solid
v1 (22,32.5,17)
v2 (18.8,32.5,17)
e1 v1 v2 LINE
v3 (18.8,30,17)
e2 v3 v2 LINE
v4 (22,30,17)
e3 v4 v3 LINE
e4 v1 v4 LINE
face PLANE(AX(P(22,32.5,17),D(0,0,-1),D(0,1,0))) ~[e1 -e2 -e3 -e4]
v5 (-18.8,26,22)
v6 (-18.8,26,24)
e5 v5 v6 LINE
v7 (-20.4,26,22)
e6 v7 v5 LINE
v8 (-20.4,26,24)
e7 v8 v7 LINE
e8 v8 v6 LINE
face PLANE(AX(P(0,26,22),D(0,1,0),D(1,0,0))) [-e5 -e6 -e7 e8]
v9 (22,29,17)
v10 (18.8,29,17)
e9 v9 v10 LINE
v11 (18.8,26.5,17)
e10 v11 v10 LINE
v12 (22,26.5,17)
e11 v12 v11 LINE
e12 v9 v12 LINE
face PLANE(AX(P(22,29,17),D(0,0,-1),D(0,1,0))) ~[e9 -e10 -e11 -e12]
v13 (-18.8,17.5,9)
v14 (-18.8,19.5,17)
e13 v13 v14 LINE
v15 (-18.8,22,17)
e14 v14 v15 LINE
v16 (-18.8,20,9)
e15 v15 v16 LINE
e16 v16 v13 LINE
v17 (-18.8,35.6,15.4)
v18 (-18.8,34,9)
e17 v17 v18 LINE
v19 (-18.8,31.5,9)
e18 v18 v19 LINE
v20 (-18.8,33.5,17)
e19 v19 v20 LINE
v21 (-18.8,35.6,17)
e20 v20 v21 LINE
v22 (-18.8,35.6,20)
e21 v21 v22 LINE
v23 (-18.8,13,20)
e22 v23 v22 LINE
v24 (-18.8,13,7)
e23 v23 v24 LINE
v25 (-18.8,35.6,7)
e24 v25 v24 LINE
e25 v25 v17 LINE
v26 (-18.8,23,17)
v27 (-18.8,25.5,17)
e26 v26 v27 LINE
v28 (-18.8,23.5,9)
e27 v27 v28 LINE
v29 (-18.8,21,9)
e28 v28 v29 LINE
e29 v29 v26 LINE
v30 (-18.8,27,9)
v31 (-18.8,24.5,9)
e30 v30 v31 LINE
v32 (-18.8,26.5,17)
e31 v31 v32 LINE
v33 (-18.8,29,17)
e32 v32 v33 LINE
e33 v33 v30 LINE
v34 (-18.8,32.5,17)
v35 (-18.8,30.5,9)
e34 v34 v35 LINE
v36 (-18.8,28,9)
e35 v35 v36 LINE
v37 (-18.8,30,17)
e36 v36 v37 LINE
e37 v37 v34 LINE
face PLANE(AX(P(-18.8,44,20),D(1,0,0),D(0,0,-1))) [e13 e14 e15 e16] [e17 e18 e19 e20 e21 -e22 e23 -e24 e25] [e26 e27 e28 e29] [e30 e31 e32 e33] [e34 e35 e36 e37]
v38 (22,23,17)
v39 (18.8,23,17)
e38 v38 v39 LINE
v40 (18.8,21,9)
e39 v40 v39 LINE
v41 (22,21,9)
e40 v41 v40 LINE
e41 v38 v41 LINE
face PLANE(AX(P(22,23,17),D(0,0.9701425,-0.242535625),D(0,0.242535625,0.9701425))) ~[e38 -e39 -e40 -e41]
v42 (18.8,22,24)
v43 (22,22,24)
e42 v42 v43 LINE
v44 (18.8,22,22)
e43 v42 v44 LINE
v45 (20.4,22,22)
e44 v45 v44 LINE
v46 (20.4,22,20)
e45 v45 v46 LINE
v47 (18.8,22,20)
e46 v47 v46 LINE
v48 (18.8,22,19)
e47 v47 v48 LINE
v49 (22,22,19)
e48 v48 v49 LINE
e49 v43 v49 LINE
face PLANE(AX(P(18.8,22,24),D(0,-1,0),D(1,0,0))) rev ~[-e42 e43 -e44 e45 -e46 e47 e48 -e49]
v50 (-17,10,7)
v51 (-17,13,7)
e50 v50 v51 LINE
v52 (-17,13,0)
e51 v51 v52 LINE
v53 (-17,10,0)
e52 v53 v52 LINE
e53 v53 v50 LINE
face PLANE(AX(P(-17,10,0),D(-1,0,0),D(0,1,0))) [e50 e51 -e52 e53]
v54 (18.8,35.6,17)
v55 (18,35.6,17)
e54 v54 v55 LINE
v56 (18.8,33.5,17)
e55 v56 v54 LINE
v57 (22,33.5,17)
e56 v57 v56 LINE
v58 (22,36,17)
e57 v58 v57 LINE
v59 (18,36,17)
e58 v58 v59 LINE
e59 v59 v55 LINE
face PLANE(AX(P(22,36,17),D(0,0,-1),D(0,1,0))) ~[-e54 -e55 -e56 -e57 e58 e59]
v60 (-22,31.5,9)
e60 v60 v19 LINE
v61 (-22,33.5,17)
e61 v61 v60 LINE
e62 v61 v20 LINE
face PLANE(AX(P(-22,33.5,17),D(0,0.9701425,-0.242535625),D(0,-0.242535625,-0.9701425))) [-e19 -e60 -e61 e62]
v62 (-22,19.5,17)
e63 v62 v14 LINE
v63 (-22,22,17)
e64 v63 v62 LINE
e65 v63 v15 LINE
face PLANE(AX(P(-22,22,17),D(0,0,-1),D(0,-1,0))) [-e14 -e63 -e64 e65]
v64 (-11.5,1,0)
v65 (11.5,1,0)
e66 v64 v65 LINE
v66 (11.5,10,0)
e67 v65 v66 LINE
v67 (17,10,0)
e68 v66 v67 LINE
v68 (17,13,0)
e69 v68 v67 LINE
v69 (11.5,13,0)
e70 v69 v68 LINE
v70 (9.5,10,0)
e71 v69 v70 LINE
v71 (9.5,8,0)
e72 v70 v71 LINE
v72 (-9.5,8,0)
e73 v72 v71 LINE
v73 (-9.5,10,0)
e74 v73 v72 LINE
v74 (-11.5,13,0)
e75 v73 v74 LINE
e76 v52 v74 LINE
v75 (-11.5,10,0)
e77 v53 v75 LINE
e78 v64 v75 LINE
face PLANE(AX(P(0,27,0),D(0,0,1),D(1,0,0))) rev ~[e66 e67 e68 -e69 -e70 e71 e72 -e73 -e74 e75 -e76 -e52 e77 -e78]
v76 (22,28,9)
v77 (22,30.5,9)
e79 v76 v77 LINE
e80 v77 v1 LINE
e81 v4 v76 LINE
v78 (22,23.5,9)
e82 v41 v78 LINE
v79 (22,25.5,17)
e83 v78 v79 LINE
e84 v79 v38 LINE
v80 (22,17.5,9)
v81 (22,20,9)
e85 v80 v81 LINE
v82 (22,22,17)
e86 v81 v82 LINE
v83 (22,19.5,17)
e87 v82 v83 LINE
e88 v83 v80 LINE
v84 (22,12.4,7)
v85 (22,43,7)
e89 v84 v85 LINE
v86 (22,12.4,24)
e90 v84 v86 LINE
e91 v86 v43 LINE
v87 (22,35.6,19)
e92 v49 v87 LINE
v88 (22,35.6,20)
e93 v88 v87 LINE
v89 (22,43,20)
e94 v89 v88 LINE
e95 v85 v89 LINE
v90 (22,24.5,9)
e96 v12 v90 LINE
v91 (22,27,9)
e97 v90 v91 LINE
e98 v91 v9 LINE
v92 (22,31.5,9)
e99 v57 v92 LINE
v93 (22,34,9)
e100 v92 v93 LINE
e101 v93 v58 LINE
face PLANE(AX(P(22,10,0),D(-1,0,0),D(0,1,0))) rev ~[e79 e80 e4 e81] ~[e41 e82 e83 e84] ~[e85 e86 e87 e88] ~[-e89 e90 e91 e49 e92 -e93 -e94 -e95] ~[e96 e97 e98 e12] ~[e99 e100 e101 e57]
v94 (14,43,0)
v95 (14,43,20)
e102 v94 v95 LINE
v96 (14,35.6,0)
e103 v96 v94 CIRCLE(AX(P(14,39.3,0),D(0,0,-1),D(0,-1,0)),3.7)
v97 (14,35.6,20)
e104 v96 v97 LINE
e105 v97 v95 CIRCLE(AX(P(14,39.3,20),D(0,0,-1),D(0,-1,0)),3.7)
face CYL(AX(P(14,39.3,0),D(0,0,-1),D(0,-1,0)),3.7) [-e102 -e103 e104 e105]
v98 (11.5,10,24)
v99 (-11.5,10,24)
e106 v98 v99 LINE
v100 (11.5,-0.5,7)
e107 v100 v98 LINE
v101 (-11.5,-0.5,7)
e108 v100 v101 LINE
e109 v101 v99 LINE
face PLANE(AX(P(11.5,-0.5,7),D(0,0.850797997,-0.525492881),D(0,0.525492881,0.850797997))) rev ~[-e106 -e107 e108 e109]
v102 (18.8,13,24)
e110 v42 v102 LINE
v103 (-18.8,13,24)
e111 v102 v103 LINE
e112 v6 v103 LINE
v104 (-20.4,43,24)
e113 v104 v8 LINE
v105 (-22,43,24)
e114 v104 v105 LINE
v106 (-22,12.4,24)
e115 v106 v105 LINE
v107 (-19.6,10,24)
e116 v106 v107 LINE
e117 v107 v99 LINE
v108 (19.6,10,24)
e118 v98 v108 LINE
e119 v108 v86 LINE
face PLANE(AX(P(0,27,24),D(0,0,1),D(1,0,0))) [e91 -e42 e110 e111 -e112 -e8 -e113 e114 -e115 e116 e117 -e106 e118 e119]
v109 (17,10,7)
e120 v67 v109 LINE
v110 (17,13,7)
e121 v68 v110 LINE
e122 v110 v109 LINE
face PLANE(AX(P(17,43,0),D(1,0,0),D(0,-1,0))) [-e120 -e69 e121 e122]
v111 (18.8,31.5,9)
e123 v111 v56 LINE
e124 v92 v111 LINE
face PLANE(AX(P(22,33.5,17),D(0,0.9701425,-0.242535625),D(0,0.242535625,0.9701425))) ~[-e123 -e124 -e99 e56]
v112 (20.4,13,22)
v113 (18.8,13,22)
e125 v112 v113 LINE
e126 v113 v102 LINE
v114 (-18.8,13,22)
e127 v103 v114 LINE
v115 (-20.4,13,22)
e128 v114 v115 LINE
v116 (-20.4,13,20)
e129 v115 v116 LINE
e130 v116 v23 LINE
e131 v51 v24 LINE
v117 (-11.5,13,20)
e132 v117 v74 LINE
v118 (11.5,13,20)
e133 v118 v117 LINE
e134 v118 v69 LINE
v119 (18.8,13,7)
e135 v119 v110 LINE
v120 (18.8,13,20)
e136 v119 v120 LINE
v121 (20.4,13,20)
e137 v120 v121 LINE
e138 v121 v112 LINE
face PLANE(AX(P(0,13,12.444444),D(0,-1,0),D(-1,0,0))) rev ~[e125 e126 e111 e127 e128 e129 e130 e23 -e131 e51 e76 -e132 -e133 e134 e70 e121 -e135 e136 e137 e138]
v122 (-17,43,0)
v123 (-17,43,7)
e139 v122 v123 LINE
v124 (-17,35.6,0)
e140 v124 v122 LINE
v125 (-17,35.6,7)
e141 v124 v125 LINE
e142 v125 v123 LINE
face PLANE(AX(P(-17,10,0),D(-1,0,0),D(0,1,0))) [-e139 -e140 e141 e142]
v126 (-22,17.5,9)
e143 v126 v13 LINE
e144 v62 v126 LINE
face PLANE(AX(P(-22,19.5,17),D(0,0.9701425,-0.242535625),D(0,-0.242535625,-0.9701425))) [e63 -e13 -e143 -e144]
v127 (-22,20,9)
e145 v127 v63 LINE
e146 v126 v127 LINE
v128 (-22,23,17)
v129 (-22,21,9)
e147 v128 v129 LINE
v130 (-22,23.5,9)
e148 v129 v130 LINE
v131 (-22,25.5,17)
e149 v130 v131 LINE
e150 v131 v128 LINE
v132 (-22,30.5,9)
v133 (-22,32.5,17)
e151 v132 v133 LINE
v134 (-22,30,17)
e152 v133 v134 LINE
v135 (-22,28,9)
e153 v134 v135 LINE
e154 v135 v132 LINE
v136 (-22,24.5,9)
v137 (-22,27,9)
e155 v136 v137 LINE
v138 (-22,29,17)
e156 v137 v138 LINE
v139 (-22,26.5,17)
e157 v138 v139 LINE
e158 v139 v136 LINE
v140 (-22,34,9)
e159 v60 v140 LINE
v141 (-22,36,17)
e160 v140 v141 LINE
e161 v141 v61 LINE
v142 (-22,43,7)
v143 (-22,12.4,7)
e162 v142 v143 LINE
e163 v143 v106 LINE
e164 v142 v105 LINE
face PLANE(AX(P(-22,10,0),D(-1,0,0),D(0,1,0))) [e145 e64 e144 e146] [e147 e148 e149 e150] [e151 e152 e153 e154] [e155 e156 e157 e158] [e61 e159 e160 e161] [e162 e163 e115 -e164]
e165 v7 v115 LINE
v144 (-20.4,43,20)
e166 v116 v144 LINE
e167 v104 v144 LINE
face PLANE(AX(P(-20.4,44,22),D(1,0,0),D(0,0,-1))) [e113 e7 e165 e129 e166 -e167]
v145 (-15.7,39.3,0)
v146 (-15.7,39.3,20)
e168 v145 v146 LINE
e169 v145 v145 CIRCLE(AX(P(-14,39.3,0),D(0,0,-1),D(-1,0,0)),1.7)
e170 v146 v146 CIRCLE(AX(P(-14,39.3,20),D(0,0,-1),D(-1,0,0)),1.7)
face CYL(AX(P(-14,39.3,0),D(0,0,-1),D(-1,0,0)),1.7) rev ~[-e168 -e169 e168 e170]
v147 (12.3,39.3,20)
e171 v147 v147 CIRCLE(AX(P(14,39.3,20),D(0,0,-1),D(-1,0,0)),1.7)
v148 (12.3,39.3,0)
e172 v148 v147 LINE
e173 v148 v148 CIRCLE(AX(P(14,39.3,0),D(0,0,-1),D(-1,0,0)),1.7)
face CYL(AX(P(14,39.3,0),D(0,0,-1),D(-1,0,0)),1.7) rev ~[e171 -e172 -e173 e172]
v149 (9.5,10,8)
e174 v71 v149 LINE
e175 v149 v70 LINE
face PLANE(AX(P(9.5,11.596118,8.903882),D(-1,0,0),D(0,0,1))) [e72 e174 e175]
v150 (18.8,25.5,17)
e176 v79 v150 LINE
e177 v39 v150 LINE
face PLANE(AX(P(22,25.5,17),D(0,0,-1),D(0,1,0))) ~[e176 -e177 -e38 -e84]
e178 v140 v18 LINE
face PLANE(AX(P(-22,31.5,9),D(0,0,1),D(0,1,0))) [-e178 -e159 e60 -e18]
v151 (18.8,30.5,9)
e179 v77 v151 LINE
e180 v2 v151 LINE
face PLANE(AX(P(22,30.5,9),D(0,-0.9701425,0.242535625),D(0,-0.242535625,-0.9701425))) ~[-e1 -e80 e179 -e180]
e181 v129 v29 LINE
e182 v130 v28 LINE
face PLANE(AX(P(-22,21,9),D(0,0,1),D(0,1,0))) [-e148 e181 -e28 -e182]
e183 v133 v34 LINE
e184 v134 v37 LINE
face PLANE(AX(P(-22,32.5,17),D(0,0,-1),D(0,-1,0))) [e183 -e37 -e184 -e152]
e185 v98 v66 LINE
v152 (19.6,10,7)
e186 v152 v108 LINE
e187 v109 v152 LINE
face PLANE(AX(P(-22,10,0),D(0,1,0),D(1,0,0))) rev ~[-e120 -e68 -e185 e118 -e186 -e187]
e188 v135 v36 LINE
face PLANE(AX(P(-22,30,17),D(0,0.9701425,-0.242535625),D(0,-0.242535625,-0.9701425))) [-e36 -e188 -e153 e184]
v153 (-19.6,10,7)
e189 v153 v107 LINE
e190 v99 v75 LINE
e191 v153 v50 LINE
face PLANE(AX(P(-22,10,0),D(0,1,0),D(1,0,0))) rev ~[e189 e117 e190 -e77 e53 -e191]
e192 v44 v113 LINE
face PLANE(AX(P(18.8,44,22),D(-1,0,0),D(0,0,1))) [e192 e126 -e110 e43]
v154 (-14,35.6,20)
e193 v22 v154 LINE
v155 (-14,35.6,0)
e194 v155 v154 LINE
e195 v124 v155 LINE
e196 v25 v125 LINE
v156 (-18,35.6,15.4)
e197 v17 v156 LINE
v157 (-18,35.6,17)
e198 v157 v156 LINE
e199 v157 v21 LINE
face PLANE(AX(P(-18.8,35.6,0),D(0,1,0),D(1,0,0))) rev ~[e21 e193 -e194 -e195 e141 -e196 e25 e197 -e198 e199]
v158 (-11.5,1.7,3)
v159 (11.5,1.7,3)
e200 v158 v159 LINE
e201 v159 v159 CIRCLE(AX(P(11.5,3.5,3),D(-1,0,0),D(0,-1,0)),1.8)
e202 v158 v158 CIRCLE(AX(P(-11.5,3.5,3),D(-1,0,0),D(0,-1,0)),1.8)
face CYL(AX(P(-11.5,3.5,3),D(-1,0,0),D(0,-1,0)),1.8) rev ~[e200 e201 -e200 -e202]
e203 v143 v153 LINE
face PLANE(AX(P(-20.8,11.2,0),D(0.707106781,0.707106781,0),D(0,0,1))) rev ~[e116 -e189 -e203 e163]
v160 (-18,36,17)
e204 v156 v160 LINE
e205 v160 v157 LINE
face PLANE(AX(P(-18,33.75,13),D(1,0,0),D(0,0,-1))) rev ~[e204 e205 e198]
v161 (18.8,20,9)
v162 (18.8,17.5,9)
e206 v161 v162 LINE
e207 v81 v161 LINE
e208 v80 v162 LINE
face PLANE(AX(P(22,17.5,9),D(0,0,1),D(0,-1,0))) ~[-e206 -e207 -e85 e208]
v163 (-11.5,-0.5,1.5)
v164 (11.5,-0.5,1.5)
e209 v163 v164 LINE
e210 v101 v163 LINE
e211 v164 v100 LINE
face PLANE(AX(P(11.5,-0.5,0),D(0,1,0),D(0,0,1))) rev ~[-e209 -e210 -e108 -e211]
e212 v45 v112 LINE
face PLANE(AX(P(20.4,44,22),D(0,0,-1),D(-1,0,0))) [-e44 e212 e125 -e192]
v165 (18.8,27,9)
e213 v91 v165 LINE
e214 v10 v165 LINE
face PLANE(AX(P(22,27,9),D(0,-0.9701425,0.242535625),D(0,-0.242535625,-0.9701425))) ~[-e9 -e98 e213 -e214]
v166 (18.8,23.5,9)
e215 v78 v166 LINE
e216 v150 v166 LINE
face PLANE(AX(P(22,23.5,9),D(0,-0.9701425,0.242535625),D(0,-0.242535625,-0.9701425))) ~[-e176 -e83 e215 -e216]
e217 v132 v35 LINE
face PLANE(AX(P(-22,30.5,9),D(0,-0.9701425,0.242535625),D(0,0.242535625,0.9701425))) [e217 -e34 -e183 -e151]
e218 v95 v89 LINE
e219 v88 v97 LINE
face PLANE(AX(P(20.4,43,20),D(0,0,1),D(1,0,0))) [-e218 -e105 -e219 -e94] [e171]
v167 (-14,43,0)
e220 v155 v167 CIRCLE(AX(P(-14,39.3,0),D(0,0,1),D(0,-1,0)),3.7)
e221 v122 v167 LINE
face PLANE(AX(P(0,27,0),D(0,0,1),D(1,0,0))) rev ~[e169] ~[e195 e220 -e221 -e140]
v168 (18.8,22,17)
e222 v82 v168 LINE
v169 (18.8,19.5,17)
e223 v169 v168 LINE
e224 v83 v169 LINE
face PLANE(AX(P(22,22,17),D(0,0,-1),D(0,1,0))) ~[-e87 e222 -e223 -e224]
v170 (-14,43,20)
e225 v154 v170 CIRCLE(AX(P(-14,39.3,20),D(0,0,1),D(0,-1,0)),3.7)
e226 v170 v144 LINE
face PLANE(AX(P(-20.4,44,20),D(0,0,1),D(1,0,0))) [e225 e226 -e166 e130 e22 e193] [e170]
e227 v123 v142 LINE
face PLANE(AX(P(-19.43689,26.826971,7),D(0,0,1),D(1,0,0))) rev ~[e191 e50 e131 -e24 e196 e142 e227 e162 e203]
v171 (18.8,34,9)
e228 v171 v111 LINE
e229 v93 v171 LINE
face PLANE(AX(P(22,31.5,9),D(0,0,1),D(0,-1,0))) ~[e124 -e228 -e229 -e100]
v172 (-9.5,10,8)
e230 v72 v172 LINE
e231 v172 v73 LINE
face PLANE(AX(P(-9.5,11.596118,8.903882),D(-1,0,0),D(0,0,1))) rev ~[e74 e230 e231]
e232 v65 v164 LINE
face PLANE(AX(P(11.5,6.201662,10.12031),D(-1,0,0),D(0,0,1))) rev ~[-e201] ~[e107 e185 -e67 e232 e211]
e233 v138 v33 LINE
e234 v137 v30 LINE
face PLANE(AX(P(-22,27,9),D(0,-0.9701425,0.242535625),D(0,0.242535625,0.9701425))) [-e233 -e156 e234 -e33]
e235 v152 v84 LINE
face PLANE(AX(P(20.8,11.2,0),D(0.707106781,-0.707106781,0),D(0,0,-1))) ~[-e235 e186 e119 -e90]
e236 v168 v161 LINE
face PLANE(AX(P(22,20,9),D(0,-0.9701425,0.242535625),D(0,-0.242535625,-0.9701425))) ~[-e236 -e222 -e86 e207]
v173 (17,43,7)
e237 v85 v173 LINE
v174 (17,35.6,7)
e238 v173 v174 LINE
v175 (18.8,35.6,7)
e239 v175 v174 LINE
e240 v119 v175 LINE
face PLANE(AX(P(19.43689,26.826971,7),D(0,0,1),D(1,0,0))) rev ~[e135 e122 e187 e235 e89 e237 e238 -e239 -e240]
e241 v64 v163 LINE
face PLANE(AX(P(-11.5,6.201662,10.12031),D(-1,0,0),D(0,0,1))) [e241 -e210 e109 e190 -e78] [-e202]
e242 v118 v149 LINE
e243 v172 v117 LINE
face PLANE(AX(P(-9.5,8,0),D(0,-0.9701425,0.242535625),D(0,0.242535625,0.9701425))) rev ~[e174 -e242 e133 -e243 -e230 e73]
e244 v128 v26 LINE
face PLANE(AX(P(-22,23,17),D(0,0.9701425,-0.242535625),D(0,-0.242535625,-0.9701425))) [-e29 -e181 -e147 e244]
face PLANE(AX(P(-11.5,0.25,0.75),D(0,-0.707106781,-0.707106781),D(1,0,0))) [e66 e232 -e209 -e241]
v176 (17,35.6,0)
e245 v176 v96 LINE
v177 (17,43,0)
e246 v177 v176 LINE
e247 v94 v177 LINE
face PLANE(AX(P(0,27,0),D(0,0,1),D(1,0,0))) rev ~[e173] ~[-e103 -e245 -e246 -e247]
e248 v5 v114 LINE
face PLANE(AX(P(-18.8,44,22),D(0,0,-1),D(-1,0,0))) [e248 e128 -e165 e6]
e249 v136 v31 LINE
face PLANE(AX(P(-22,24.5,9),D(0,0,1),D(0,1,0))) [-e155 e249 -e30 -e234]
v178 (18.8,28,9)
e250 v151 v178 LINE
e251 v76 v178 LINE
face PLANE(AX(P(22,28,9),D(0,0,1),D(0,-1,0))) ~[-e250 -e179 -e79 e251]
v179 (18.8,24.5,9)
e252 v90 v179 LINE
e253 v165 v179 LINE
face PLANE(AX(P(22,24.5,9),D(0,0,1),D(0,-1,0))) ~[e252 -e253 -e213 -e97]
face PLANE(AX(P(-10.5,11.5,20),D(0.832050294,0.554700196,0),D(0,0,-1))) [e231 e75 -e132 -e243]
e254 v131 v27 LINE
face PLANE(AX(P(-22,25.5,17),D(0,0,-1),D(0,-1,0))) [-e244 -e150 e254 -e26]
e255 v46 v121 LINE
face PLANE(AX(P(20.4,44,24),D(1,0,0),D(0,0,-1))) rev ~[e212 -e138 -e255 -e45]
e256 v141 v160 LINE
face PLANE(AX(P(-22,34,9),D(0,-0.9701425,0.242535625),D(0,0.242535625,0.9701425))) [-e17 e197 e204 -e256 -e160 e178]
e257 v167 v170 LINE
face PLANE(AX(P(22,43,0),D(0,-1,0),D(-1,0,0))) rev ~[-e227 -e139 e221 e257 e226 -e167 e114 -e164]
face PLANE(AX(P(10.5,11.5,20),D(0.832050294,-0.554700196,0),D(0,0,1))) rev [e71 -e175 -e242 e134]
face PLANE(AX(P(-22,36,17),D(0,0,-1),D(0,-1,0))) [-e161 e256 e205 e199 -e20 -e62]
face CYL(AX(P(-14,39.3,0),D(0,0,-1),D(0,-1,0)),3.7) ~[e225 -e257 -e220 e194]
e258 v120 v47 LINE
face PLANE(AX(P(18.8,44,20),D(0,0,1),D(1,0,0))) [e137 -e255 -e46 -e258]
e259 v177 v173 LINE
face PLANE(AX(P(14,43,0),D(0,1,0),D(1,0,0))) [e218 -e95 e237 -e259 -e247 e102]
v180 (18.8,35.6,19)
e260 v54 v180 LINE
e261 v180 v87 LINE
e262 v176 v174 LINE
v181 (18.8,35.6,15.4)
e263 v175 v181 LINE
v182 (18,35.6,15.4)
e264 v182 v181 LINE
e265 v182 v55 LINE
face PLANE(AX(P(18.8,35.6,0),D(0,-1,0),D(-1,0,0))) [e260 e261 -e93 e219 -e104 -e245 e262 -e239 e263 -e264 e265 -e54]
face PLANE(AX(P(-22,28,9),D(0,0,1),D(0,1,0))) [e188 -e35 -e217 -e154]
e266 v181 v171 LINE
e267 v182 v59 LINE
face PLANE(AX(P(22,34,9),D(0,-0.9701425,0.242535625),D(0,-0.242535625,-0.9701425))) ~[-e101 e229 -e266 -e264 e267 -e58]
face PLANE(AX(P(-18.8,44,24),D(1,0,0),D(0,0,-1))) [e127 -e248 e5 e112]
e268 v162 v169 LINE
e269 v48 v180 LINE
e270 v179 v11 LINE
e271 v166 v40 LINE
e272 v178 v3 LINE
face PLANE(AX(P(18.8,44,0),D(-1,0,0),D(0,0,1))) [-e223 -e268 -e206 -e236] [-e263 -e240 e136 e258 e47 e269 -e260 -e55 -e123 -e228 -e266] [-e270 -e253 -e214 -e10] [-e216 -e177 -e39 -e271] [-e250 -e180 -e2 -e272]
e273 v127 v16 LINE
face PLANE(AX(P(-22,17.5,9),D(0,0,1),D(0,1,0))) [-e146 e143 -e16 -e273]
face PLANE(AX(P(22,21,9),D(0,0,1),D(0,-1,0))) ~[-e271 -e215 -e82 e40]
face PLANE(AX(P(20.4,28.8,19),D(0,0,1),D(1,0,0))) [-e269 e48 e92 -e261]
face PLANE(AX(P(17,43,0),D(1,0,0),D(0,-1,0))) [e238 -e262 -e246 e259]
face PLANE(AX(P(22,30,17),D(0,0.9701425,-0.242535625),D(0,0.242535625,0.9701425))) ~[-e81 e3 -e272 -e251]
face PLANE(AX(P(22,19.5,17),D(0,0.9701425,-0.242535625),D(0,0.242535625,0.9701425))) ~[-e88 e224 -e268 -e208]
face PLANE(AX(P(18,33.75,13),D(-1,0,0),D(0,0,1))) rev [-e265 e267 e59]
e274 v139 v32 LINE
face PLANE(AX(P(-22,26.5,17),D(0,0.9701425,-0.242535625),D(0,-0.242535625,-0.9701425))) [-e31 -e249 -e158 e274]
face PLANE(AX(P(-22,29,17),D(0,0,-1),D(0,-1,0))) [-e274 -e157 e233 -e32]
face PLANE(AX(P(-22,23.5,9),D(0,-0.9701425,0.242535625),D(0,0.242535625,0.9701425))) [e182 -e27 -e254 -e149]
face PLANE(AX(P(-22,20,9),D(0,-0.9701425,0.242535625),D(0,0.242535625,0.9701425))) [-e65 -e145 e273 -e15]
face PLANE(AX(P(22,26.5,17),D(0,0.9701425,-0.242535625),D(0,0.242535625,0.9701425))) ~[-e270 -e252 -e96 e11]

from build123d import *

# Parameters (mm, degrees)
SKETCH_1_W           = 44
SKETCH_1_H           = 34
EXTRUDE_1_DEPTH      = 24
CUT_EXTRUDE_1_DEPTH  = 31
SKETCH_5_W           = 23
SKETCH_5_H           = 10.5
EXTRUDE_4_DEPTH      = 1
EXTRUDE_5_DEPTH      = 23
SKETCH_7_R           = 1.8
CUT_EXTRUDE_2_DEPTH  = 23
CUT_EXTRUDE_4_DEPTH  = 19
CHAMFER_2_SIZE       = 2
CHAMFER_2_SIZE2      = 3
SKETCH_11_R          = 1.7
EXTRUDE_6_DEPTH      = 20
CUT_EXTRUDE_7_DEPTH  = 4
CHAMFER_3_SIZE       = 2.4
SKETCH_14_W          = 40.8
SKETCH_14_H          = 4
CUT_EXTRUDE_8_DEPTH  = 18
SKETCH_15_W          = 44
SKETCH_15_H          = 1
CUT_EXTRUDE_9_DEPTH  = 24
SKETCH_16_W          = 3.2
SKETCH_16_H          = 13.6
CUT_EXTRUDE_10_DEPTH = 5
SKETCH_17_W          = 1.6
SKETCH_17_H          = 4
CUT_EXTRUDE_11_DEPTH = 7.4
CUT_EXTRUDE_12_DEPTH = 7
SKETCH_19_W          = 1
SKETCH_19_H          = 10.5
CUT_EXTRUDE_13_DEPTH = 23
CHAMFER_4_SIZE       = 1.5
CHAMFER_5_SIZE       = 3
CHAMFER_5_SIZE2      = 2


with BuildPart() as part:
    # Эскиз1 → Бобышка-Вытянуть1 (new body)
    with BuildSketch(Plane.XY):
        with Locations((0, 27)):
            Rectangle(SKETCH_1_W, SKETCH_1_H)
    extrude(amount=EXTRUDE_1_DEPTH)

    # Эскиз2 → Вырез-Вытянуть1 (cut)
    with BuildSketch(Plane(origin=(0, 44, 0), x_dir=(1, 0, 0), z_dir=(0, 1, 0))):
        Polygon((-18.8, 0), (18.8, 0), (18.8, -20), (20.4, -20), (20.4, -22), (18.8, -22), (18.8, -24), (-18.8, -24), (-18.8, -22), (-20.4, -22), (-20.4, -20), (-18.8, -20), align=None)
    extrude(amount=-CUT_EXTRUDE_1_DEPTH, mode=Mode.SUBTRACT)



with BuildPart() as body_2:
    # Эскиз5 → Бобышка-Вытянуть4 (new body)
    with BuildSketch(Plane(origin=(0, 0, 0), x_dir=(-1, 0, 0), z_dir=(0, 0, -1))):
        with Locations((0, 4.75)):
            Rectangle(SKETCH_5_W, SKETCH_5_H)
    extrude(amount=EXTRUDE_4_DEPTH)


with BuildPart() as part_1:
    add(part.part)

    add(body_2.part)  # Бобышка-Вытянуть5 merges body 2
    # Эскиз6 → Бобышка-Вытянуть5 (add)
    with BuildSketch(Plane(origin=(11.5, 0, 0), x_dir=(0, 0, -1), z_dir=(1, 0, 0))):
        Polygon((0, -0.5), (-7, -0.5), (-24, 10), (0, 10), align=None)
    extrude(amount=-EXTRUDE_5_DEPTH)

    # Эскиз7 → Вырез-Вытянуть2 (cut)
    with BuildSketch(Plane.ZY.offset(11.5)):
        with Locations(Location((3, 3.5, 0), (0, 0, 270))):
            Circle(SKETCH_7_R)
    extrude(amount=-CUT_EXTRUDE_2_DEPTH, mode=Mode.SUBTRACT)

    # Эскиз8 → Вырез-Вытянуть4 (cut)
    with BuildSketch(Plane.ZY.offset(9.5)):
        Polygon((0, 8), (20, 13), (0, 13), align=None)
    extrude(amount=-CUT_EXTRUDE_4_DEPTH, mode=Mode.SUBTRACT)

    # Фаска2
    chamfer_2_edges = [part_1.edges().sort_by_distance(p)[0] for p in [
        (9.5, 13, 10),
    ]]
    chamfer_2_side = [part_1.faces().sort_by_distance(p)[0] for p in [
        (-18.32664601, 13, 10),
    ]]
    chamfer(chamfer_2_edges, length=CHAMFER_2_SIZE, length2=CHAMFER_2_SIZE2, reference=chamfer_2_side[0])

    # Эскиз11 → Бобышка-Вытянуть6 (add)
    # profile 1 of 2: a face of its own
    with BuildSketch(Plane(origin=(0, 0, 0), x_dir=(-1, 0, 0), z_dir=(0, 0, -1))):
        with BuildLine():
            Line((-14, 43), (-18.8, 43))
            Line((-18.8, 43), (-18.8, 35.6))
            Line((-18.8, 35.6), (-14, 35.6))
            ThreePointArc((-14, 35.6), (-10.3, 39.3), (-14, 43))
        make_face()
        with Locations((-14, 39.3)):
            Circle(SKETCH_11_R, mode=Mode.SUBTRACT)
    # profile 2 of 2: a face of its own
    with BuildSketch(Plane(origin=(0, 0, 0), x_dir=(-1, 0, 0), z_dir=(0, 0, -1))):
        with BuildLine():
            Line((18.8, 35.6), (14, 35.6))
            ThreePointArc((14, 35.6), (10.3, 39.3), (14, 43))
            Line((14, 43), (18.8, 43))
            Line((18.8, 43), (18.8, 35.6))
        make_face()
        with Locations((14, 39.3)):
            Circle(SKETCH_11_R, mode=Mode.SUBTRACT)
    extrude(amount=-EXTRUDE_6_DEPTH)

    # Эскиз13 → Вырез-Вытянуть7 (cut)
    with BuildSketch(Plane.ZY.offset(22)):
        Polygon((9, 34), (17, 36), (17, 33.5), (9, 31.5), align=None)
        Polygon((9, 30.5), (17, 32.5), (17, 30), (9, 28), align=None)
        Polygon((9, 27), (17, 29), (17, 26.5), (9, 24.5), align=None)
        Polygon((9, 23.5), (17, 25.5), (17, 23), (9, 21), align=None)
        Polygon((9, 20), (17, 22), (17, 19.5), (9, 17.5), align=None)
    cut_extrude_7 = extrude(amount=-CUT_EXTRUDE_7_DEPTH, mode=Mode.SUBTRACT)

    # Зеркальное отражение1: Вырез-Вытянуть7 across plane
    add(cut_extrude_7.mirror(Plane(origin=(0, 0, 0), x_dir=(0, 0, 1), z_dir=(1, 0, 0))), mode=Mode.SUBTRACT)

    # Фаска3
    chamfer_3_edges = [part_1.edges().sort_by_distance(p)[0] for p in [
        (22, 10, 12),
        (-22, 10, 12),
    ]]
    chamfer(chamfer_3_edges, length=CHAMFER_3_SIZE)

    # Эскиз14 → Вырез-Вытянуть8 (cut)
    with BuildSketch(Plane(origin=(0, 44, 0), x_dir=(1, 0, 0), z_dir=(0, 1, 0))):
        with Locations((0, -22)):
            Rectangle(SKETCH_14_W, SKETCH_14_H)
    extrude(amount=-CUT_EXTRUDE_8_DEPTH, mode=Mode.SUBTRACT)

    # Эскиз15 → Вырез-Вытянуть9 (cut)
    with BuildSketch(Plane(origin=(0, 0, 0), x_dir=(-1, 0, 0), z_dir=(0, 0, -1))):
        with Locations((0, 43.5)):
            Rectangle(SKETCH_15_W, SKETCH_15_H)
    extrude(amount=-CUT_EXTRUDE_9_DEPTH, mode=Mode.SUBTRACT)

    # Эскиз16 → Вырез-Вытянуть10 (cut)
    with BuildSketch(Plane.XY.offset(24)):
        with Locations((20.4, 28.8)):
            Rectangle(SKETCH_16_W, SKETCH_16_H)
    extrude(amount=-CUT_EXTRUDE_10_DEPTH, mode=Mode.SUBTRACT)

    # Эскиз17 → Вырез-Вытянуть11 (cut)
    with BuildSketch(Plane(origin=(0, 43, 0), x_dir=(1, 0, 0), z_dir=(0, 1, 0))):
        with Locations((21.2, -22)):
            Rectangle(SKETCH_17_W, SKETCH_17_H)
    extrude(amount=-CUT_EXTRUDE_11_DEPTH, mode=Mode.SUBTRACT)

    # Эскиз18 → Вырез-Вытянуть12 (cut)
    with BuildSketch(Plane(origin=(0, 0, 0), x_dir=(-1, 0, 0), z_dir=(0, 0, -1))):
        Polygon((-22, 43), (-17, 43), (-17, 10), (-19.6, 10), (-22, 12.4), align=None)
        Polygon((22, 12.4), (19.6, 10), (17, 10), (17, 43), (22, 43), align=None)
    extrude(amount=-CUT_EXTRUDE_12_DEPTH, mode=Mode.SUBTRACT)

    # Эскиз19 → Вырез-Вытянуть13 (cut)
    with BuildSketch(Plane.ZY.offset(11.5)):
        with Locations((-0.5, 4.75)):
            Rectangle(SKETCH_19_W, SKETCH_19_H)
    extrude(amount=-CUT_EXTRUDE_13_DEPTH, mode=Mode.SUBTRACT)

    # Фаска4
    chamfer_4_edges = [part_1.edges().sort_by_distance(p)[0] for p in [
        (0, -0.5, 0),
    ]]
    chamfer(chamfer_4_edges, length=CHAMFER_4_SIZE)

    # Фаска5
    chamfer_5_edges = [part_1.edges().sort_by_distance(p)[0] for p in [
        (-9.5, 13, 10),
    ]]
    chamfer_5_side = [part_1.faces().sort_by_distance(p)[0] for p in [
        (-9.5, 11.333333333, 6.666666667),
    ]]
    chamfer(chamfer_5_edges, length=CHAMFER_5_SIZE, length2=CHAMFER_5_SIZE2, reference=chamfer_5_side[0])


solid = part_1.part
